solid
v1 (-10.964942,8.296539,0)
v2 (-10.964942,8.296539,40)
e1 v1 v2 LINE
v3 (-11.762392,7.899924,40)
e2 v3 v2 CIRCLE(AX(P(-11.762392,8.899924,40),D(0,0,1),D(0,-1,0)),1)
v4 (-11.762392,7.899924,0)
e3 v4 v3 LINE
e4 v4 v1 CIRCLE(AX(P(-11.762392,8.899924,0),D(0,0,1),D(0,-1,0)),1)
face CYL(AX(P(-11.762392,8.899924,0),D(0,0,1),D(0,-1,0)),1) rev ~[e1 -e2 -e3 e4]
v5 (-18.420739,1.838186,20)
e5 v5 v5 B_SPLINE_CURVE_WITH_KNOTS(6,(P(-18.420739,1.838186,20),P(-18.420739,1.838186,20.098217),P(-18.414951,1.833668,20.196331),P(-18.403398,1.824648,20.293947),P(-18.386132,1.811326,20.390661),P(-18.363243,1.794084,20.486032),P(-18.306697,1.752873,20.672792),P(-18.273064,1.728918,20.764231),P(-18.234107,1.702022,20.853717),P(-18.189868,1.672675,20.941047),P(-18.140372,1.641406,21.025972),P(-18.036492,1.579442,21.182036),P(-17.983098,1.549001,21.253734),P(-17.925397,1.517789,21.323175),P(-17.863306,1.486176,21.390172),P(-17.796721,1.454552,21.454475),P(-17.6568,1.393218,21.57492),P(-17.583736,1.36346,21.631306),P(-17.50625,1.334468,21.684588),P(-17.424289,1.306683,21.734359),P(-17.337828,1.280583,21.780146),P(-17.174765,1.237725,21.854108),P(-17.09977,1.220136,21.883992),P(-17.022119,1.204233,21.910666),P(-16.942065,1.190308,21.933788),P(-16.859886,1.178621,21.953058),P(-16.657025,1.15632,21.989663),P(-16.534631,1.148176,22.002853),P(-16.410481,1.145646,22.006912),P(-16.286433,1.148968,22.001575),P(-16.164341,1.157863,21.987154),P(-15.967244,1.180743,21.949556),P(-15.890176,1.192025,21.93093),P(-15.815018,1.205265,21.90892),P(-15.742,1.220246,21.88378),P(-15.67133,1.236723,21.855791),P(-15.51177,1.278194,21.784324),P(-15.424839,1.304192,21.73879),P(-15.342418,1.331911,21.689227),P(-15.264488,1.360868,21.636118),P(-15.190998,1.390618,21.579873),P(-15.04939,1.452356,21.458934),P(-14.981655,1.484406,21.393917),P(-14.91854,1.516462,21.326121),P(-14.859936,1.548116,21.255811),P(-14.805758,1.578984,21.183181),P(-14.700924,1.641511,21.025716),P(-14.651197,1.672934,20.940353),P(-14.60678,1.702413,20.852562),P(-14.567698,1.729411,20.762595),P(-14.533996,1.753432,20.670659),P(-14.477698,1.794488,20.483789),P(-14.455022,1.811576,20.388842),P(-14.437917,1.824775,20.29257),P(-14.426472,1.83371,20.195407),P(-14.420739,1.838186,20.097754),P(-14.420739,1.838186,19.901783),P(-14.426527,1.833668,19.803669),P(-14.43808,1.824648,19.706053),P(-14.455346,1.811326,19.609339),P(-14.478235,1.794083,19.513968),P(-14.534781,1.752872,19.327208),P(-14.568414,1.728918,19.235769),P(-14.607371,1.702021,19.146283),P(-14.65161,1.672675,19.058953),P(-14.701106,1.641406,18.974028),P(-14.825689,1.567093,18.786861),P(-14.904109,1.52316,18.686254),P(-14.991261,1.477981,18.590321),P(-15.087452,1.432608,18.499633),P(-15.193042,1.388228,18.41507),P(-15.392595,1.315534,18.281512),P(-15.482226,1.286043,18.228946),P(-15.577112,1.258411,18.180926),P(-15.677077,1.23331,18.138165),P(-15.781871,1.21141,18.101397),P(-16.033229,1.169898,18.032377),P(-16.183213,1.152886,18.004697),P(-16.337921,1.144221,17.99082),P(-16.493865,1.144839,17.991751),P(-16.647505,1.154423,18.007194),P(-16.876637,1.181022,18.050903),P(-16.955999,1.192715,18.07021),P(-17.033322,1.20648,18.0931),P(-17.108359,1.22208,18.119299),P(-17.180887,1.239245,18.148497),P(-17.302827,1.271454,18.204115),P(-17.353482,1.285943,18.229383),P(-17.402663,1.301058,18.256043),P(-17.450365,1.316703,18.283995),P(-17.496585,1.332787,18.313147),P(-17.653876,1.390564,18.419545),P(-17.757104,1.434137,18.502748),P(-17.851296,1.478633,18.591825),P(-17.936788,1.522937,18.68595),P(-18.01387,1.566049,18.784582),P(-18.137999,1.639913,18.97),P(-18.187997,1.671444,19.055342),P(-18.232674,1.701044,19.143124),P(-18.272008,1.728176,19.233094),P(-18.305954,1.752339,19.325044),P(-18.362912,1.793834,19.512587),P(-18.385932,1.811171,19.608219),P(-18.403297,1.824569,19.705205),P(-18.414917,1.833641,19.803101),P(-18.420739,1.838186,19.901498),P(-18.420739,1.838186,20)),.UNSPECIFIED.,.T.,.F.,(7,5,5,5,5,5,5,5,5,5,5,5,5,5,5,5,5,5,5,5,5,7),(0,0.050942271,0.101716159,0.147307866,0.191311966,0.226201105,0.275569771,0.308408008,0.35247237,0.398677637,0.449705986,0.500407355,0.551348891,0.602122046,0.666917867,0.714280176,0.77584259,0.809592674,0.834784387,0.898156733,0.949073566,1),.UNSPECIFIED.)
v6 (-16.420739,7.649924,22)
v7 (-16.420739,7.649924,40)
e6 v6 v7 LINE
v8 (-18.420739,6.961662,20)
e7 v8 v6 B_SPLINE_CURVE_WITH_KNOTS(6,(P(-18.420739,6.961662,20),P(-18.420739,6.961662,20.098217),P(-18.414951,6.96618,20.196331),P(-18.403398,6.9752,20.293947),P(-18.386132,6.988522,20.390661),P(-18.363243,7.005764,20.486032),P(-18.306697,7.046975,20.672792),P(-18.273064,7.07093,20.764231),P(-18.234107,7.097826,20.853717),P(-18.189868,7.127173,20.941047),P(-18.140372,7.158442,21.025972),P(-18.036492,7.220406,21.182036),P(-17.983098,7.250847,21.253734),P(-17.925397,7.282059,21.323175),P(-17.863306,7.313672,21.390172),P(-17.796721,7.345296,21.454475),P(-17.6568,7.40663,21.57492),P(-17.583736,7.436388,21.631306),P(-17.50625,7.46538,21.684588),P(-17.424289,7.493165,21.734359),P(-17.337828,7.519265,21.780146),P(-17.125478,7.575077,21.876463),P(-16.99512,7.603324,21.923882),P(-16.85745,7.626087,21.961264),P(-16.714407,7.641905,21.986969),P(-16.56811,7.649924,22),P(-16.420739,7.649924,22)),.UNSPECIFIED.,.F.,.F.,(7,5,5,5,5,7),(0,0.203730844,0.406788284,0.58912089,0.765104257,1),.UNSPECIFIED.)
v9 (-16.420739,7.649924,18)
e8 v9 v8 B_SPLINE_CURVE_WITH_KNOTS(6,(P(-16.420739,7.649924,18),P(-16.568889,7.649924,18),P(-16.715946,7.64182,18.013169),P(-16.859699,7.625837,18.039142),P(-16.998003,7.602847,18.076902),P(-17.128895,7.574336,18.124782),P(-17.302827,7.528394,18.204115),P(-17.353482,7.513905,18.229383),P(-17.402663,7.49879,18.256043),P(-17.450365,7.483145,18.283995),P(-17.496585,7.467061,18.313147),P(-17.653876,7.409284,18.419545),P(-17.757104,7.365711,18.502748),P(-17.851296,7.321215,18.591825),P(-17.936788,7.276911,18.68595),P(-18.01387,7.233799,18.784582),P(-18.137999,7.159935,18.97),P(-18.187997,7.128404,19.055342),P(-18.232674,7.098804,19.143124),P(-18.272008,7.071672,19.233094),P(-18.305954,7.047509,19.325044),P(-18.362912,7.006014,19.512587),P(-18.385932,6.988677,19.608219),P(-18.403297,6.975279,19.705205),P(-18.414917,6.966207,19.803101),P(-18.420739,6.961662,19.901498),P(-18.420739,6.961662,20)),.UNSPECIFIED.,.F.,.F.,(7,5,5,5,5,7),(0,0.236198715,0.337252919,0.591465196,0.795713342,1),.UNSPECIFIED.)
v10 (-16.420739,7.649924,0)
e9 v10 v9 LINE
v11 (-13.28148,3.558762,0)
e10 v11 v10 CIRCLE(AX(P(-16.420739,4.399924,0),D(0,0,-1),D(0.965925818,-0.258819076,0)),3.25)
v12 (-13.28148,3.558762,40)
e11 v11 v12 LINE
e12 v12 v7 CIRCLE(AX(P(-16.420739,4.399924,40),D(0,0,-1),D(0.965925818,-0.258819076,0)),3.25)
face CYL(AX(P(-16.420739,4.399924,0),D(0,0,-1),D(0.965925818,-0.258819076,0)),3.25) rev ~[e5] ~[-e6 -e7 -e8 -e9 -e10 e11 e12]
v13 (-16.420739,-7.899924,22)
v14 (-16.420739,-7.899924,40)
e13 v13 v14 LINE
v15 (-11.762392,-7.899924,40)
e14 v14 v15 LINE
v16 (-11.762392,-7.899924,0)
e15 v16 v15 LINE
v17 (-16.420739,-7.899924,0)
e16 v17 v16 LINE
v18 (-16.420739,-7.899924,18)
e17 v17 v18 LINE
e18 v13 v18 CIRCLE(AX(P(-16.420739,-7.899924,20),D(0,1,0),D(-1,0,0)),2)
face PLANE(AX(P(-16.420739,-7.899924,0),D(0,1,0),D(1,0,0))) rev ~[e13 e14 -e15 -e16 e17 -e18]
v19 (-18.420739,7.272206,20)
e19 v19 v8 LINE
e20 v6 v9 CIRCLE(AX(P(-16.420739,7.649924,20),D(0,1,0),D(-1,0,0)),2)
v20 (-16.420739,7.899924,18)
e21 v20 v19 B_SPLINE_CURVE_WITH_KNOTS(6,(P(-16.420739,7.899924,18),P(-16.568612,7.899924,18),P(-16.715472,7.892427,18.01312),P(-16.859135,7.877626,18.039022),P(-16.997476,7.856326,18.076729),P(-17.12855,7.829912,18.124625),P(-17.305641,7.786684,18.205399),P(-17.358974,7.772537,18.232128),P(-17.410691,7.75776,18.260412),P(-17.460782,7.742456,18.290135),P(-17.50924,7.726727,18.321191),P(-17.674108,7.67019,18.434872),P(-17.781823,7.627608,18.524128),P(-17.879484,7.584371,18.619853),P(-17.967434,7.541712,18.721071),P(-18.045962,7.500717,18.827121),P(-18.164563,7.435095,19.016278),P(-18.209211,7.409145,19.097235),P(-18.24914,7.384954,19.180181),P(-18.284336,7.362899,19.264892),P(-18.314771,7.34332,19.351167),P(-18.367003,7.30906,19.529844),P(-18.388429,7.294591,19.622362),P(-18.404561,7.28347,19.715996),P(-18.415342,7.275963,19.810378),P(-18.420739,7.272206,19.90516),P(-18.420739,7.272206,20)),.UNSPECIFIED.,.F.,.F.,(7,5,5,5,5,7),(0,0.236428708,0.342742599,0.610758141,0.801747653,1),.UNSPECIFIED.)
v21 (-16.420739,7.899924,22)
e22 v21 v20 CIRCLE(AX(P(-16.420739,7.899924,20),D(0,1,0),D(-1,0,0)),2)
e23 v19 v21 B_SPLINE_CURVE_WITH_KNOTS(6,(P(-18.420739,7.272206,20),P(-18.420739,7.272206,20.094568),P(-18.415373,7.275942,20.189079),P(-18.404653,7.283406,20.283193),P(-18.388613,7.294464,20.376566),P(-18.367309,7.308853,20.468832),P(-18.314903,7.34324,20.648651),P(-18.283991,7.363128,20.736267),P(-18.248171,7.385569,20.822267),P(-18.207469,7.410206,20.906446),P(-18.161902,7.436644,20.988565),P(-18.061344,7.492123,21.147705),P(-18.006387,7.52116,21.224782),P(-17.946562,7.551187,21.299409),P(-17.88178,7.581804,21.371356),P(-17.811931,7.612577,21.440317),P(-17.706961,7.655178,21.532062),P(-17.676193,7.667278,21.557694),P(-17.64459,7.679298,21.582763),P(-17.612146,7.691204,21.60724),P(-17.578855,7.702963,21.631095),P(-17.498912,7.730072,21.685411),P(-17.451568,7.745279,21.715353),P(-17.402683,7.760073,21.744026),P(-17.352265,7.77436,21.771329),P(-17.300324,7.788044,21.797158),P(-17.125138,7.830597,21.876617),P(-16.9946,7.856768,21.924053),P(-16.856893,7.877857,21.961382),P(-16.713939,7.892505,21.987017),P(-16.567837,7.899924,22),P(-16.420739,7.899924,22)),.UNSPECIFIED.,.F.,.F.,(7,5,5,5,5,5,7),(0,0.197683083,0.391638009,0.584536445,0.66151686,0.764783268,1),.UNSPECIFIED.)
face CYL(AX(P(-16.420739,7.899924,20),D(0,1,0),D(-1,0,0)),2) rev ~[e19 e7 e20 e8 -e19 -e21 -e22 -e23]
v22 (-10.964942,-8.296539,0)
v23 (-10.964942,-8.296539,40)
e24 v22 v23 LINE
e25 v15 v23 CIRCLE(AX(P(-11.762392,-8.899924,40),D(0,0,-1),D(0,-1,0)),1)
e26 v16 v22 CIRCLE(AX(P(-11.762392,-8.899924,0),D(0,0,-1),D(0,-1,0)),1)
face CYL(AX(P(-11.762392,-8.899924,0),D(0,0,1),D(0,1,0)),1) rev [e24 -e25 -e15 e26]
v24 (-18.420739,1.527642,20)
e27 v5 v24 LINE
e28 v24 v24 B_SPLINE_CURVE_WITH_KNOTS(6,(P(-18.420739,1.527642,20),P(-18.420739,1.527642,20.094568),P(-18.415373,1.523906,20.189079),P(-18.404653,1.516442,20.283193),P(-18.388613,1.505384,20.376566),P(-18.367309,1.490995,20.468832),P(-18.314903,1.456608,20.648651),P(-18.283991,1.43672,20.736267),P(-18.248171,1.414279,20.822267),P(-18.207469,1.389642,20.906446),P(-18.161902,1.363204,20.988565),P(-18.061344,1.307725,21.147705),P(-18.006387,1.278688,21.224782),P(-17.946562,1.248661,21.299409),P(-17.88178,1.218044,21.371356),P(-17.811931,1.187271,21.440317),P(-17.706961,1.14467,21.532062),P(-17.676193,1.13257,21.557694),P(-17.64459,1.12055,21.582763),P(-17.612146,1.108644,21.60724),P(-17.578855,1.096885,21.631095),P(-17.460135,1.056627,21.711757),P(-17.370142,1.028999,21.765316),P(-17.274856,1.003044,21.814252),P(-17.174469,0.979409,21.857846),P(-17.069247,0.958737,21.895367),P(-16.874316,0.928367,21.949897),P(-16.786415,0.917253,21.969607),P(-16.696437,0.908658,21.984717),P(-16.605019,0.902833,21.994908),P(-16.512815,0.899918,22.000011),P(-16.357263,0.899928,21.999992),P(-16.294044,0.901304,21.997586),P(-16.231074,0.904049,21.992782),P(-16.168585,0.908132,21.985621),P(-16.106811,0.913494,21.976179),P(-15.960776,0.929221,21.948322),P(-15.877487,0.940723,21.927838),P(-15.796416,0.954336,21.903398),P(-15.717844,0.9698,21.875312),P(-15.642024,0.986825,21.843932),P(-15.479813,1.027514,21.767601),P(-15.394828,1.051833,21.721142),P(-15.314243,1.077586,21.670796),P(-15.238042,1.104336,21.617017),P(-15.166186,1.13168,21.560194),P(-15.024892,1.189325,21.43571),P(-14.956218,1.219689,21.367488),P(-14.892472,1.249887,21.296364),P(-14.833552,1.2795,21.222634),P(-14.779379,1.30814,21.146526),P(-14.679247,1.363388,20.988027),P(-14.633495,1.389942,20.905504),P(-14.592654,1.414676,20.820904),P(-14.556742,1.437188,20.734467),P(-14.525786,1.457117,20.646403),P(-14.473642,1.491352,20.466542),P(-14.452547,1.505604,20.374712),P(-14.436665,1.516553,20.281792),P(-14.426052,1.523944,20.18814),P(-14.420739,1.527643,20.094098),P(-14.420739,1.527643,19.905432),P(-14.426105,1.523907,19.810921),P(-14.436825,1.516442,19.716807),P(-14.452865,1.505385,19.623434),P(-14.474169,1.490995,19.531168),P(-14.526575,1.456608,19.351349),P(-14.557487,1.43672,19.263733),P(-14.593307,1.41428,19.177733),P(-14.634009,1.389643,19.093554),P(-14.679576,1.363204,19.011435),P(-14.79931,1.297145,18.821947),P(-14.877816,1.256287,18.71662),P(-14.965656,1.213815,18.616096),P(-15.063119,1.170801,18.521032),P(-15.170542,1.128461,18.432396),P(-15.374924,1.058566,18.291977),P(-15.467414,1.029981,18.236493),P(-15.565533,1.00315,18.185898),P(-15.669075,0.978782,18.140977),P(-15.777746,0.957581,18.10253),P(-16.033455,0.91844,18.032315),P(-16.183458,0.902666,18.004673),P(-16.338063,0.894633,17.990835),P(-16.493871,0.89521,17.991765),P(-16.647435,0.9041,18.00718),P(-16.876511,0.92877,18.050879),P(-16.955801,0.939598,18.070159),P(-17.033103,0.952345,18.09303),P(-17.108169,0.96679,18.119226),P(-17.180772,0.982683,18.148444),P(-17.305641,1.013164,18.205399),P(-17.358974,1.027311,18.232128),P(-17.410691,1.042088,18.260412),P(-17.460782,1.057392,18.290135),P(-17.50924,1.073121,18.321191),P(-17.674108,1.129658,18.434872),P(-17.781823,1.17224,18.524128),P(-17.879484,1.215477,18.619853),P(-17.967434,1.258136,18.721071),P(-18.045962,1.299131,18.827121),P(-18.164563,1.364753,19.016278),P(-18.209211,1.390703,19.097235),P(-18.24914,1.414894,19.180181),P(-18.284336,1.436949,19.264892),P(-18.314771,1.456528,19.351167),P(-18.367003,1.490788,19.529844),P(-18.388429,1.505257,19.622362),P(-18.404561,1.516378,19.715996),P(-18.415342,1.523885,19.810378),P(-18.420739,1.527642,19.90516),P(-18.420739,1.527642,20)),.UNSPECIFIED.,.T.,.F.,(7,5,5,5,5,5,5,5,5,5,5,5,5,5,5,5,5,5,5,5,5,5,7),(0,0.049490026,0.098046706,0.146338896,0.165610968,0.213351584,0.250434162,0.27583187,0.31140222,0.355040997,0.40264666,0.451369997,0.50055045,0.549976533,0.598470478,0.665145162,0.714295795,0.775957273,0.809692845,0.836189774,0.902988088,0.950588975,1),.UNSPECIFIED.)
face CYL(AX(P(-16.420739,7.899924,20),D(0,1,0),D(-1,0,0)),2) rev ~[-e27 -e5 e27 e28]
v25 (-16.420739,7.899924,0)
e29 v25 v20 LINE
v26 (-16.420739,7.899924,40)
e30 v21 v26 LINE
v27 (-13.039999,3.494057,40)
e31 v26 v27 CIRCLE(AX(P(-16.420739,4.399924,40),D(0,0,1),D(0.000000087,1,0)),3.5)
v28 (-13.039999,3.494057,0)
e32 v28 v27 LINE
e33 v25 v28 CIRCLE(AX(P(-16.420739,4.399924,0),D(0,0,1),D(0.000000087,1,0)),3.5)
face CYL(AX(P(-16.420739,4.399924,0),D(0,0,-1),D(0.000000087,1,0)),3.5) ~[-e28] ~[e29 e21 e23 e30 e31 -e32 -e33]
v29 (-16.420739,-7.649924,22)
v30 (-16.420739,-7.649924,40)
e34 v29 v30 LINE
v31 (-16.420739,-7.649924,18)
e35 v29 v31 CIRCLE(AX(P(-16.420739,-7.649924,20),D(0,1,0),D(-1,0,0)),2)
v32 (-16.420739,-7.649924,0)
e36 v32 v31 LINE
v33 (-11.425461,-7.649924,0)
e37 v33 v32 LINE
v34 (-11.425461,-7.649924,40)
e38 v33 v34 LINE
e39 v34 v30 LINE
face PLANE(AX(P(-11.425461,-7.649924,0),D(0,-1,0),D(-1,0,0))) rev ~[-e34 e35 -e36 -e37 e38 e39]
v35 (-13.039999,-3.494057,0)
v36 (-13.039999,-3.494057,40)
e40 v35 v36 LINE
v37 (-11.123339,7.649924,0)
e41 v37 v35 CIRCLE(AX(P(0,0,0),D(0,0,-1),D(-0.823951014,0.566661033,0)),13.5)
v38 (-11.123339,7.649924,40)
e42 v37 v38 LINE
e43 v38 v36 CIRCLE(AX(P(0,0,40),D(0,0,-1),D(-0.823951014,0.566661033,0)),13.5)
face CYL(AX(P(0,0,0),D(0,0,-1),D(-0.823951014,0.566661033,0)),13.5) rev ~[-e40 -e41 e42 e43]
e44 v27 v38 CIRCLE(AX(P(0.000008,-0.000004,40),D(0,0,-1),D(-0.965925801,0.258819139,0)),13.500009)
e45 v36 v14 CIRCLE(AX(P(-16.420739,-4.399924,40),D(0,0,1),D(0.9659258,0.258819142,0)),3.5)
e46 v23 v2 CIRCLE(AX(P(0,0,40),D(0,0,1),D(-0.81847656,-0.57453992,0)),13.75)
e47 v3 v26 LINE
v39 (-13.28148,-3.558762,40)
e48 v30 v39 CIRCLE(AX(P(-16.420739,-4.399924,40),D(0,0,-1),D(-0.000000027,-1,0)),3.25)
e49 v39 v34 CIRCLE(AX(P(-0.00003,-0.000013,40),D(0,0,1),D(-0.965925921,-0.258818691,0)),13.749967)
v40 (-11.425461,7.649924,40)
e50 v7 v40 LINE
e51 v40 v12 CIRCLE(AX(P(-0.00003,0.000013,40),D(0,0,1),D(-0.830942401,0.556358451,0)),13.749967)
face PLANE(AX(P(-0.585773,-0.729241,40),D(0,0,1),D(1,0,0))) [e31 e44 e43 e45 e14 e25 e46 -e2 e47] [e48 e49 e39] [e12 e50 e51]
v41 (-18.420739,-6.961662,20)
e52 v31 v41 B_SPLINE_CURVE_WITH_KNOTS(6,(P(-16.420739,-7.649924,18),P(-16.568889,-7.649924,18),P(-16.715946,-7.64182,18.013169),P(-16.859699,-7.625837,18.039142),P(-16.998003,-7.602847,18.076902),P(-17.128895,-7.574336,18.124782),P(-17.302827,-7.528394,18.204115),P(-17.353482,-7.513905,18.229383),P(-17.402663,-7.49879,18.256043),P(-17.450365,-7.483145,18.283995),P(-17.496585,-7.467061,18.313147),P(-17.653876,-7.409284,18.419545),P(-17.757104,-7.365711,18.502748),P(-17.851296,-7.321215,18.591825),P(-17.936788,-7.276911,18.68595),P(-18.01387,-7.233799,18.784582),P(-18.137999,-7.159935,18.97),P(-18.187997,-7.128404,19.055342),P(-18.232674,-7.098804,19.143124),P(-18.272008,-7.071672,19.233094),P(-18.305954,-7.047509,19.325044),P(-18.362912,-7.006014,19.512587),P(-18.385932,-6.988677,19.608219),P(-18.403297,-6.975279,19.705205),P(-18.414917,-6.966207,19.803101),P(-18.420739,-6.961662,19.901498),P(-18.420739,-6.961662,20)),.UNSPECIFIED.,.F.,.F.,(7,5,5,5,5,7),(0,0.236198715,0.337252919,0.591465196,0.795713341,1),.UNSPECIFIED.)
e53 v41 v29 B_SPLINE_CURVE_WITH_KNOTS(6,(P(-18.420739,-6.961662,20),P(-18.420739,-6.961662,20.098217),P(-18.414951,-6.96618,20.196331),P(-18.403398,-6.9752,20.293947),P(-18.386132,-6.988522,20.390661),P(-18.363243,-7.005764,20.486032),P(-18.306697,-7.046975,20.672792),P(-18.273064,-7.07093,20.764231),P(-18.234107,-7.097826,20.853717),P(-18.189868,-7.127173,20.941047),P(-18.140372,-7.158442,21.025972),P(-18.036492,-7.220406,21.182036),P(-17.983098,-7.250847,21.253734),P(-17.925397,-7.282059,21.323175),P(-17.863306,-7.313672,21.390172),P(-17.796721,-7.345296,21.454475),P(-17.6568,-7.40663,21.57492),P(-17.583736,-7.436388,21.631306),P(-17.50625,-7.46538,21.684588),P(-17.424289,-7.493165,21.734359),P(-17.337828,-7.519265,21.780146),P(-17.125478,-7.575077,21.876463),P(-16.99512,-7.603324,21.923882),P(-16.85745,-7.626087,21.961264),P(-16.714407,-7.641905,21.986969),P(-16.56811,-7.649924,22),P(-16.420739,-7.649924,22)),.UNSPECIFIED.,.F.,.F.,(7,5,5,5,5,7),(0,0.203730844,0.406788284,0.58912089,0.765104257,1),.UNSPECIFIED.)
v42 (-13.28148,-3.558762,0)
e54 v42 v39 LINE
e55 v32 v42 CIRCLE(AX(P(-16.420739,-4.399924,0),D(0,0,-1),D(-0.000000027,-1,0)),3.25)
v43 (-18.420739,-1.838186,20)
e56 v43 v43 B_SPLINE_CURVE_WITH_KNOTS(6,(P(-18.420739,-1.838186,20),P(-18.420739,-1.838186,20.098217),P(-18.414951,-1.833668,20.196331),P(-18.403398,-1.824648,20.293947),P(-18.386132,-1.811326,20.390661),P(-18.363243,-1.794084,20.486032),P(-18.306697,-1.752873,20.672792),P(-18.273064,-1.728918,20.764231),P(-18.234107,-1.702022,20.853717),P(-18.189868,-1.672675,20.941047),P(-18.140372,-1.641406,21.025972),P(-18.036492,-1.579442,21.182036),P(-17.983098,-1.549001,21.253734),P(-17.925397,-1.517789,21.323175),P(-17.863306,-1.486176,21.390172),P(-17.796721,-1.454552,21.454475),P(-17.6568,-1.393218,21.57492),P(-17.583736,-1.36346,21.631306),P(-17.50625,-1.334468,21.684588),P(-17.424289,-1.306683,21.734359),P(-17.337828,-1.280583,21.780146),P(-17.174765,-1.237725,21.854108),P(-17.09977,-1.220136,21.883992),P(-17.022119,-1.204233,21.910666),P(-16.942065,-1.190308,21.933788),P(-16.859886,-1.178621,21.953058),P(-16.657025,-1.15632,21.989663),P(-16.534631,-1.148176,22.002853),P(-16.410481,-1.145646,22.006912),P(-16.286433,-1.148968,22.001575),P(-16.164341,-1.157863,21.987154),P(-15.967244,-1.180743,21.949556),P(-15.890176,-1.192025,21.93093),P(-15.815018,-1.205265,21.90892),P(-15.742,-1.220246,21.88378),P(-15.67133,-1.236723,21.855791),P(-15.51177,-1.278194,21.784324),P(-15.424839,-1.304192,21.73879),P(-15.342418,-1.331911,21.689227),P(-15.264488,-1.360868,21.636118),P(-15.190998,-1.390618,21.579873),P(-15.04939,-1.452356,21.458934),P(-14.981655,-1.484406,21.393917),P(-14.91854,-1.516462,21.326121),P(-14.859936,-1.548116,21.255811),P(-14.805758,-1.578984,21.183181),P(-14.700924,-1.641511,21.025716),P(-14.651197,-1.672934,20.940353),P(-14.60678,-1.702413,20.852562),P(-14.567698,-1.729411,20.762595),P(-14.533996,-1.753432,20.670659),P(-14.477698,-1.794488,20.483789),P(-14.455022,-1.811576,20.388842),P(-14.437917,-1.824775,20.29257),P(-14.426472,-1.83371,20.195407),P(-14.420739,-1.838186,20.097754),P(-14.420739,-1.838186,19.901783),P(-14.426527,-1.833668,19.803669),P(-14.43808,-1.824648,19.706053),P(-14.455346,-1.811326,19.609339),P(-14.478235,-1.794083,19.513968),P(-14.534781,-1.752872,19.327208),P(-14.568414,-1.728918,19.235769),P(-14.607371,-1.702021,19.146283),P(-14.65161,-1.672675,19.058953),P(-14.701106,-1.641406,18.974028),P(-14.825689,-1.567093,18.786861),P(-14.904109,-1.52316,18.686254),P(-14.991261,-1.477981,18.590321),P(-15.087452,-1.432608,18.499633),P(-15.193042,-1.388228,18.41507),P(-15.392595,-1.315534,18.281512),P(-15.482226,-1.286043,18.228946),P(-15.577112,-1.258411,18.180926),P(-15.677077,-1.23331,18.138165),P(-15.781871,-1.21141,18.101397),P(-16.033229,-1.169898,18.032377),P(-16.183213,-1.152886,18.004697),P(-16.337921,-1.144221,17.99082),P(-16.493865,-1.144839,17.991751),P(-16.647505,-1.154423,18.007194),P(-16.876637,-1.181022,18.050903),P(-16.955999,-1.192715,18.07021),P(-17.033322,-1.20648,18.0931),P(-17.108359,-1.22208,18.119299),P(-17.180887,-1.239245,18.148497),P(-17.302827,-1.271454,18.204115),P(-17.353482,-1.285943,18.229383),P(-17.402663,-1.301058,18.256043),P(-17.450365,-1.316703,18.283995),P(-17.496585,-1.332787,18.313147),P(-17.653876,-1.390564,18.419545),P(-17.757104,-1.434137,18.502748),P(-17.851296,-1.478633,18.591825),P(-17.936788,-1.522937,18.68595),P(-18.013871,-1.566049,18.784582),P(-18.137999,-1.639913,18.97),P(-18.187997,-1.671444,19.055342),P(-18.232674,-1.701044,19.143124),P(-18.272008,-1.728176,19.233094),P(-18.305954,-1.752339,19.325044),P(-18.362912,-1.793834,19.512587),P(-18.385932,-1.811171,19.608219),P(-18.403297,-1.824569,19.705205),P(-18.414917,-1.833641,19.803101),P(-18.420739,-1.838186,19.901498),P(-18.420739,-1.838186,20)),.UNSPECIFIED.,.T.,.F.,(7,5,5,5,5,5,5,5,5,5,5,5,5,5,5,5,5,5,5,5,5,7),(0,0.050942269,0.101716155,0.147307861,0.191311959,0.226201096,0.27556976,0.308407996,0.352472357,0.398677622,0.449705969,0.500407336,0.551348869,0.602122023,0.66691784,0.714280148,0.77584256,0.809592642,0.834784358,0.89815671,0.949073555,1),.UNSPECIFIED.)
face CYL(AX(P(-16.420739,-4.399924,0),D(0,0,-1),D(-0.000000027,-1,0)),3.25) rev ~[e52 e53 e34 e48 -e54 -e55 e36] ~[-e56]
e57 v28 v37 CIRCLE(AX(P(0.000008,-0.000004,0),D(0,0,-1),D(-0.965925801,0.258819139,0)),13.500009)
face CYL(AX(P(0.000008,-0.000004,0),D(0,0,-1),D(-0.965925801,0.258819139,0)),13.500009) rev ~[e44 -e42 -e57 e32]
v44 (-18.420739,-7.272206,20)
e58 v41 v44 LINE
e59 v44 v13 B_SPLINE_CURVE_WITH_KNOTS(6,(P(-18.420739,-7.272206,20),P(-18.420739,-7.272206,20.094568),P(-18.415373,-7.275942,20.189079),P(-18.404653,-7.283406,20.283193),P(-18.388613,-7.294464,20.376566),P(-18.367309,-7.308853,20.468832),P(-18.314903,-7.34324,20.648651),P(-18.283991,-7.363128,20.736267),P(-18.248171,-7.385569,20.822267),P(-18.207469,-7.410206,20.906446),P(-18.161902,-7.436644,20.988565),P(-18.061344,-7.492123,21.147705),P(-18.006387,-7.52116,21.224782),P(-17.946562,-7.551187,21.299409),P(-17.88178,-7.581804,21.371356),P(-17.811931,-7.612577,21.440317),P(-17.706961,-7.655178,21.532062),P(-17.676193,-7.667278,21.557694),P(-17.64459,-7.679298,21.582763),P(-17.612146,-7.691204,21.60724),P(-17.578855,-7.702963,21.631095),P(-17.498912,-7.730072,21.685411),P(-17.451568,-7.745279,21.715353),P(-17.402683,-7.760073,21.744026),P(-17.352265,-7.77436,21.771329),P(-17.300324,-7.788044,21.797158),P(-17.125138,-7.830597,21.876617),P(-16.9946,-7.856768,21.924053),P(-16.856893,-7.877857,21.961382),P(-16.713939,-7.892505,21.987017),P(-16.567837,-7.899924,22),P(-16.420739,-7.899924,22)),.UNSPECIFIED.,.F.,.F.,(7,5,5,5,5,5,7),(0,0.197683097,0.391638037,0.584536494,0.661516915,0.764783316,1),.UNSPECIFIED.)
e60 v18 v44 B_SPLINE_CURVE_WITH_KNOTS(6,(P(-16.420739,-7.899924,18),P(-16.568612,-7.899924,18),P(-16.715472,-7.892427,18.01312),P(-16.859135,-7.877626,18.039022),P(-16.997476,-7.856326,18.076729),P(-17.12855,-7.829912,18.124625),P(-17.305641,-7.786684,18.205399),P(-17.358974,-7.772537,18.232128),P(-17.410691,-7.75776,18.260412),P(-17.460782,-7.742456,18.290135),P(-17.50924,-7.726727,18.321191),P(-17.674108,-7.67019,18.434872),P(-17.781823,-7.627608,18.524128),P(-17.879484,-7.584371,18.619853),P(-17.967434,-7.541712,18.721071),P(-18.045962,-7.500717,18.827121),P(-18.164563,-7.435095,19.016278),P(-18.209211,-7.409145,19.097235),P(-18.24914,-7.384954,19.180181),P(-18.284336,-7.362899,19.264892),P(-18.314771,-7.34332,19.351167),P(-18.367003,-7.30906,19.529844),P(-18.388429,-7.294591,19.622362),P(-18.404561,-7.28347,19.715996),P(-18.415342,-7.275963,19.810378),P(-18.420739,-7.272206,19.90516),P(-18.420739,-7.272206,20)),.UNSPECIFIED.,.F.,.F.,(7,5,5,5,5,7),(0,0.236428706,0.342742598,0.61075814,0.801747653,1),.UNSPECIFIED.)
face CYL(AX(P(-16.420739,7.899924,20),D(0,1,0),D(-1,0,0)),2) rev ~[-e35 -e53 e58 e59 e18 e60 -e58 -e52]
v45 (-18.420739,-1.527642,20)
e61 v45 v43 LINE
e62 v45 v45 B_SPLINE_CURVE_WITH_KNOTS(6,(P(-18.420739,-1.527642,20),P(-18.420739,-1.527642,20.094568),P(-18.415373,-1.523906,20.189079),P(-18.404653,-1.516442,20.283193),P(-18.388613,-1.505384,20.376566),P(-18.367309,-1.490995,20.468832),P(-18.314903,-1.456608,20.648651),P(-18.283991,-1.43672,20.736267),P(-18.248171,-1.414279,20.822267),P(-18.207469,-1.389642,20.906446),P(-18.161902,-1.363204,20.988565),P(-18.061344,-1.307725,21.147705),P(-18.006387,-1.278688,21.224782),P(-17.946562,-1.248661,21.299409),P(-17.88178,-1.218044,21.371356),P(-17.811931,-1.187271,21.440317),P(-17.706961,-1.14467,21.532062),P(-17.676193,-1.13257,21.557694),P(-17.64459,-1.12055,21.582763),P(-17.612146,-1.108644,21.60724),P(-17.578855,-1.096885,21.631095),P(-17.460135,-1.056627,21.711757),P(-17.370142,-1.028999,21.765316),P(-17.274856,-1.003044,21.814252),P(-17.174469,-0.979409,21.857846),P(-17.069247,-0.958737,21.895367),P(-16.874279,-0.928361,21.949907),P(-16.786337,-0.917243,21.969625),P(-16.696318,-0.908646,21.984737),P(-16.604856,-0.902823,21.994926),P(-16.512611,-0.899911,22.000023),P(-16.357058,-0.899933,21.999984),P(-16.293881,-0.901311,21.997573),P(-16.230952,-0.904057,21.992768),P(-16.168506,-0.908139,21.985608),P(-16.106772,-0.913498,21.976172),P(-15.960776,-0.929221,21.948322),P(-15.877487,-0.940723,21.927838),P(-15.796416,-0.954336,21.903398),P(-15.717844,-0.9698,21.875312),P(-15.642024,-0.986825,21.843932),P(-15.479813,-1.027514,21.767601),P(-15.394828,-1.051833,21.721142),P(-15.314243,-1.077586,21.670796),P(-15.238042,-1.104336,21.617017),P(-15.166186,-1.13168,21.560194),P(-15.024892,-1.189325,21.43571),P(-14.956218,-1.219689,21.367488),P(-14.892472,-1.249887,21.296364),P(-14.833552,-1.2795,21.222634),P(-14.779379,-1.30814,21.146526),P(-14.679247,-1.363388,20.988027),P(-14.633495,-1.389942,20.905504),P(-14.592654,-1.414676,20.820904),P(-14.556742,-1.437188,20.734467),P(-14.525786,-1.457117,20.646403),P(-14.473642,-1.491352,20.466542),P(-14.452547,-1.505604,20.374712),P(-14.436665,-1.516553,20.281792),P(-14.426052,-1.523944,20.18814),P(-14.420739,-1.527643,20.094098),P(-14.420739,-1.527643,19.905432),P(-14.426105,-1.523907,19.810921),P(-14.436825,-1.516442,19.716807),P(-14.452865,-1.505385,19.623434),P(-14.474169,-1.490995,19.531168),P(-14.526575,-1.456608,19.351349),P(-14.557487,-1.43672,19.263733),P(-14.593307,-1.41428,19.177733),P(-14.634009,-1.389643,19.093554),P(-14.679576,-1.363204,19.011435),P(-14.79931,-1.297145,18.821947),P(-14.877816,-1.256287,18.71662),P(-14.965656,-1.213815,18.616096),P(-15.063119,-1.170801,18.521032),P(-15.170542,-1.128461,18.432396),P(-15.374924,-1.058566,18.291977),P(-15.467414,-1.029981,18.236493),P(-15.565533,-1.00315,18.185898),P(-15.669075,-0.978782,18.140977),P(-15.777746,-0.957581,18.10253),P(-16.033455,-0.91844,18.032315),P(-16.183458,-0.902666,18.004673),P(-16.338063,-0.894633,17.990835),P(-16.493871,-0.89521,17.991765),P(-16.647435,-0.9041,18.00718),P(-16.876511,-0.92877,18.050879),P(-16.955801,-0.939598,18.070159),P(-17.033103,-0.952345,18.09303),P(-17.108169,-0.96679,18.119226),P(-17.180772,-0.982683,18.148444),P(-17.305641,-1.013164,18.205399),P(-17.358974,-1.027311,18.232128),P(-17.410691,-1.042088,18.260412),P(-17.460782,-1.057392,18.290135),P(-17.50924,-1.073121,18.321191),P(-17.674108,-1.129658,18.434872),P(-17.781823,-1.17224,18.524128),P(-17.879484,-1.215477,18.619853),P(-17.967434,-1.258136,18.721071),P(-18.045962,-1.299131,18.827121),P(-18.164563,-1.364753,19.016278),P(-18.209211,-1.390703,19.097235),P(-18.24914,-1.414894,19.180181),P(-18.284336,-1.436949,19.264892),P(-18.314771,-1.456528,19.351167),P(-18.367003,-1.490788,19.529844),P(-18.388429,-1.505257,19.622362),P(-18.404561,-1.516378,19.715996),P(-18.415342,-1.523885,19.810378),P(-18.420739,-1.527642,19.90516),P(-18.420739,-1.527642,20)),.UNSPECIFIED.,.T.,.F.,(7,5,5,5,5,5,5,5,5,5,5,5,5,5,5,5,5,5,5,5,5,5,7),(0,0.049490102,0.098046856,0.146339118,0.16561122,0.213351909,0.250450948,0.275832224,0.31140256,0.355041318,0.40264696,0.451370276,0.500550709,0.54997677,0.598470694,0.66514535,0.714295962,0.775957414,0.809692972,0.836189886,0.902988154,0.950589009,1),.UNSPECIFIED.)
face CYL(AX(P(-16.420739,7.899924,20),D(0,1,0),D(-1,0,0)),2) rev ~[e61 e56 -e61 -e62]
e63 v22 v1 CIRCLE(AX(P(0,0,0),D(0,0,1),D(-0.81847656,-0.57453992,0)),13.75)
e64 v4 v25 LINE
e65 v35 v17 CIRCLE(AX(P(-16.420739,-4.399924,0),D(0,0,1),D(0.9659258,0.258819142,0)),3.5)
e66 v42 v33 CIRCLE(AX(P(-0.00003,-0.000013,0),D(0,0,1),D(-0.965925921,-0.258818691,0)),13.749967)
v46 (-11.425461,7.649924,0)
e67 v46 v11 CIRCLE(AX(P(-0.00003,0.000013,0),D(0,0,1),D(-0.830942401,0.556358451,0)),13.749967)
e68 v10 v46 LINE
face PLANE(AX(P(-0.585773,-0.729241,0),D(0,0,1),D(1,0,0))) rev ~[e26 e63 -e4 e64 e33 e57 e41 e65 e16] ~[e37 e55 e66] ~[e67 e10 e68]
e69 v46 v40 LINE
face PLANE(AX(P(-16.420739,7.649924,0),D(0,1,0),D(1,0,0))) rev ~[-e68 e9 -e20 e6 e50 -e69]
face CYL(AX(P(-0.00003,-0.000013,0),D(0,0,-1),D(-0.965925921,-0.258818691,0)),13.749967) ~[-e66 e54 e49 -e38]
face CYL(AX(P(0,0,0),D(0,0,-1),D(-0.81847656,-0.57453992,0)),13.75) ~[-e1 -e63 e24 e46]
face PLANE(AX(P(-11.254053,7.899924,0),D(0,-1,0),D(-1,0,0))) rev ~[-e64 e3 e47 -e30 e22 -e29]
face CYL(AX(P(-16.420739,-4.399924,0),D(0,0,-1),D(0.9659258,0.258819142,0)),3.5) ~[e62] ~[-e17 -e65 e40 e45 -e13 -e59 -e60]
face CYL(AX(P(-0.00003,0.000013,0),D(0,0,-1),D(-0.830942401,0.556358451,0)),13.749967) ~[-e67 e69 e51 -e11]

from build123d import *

# Parameters (mm, degrees)
F1_DEPTH = 40
F2_R     = 1
F3_R     = 2
F4_DEPTH = 25


with BuildPart() as f1:
    # F0 (on Top) → F1 (new body)
    with BuildSketch(Plane.XY):
        with BuildLine():
            ThreePointArc((-11.123339, 7.649924), (13.304653, -2.288275), (-13.039999, -3.494057))
            ThreePointArc((-13.039999, -3.494057), (-19.197476, -2.269259), (-16.420739, -7.899924))
            Line((-16.420739, -7.899924), (-11.254053, -7.899924))
            ThreePointArc((-11.254053, -7.899924), (13.75, 0), (-11.254053, 7.899924))
            ThreePointArc((-11.254053, 7.899924), (-11.340446, 7.775396), (-11.425461, 7.649924))
            Line((-11.425461, 7.649924), (-11.123339, 7.649924))
        make_face()
        with BuildLine():
            ThreePointArc((-16.420739, -7.649924), (-18.999137, -2.421449), (-13.28148, -3.558762))
            ThreePointArc((-13.28148, -3.558762), (-12.521687, -5.680657), (-11.425461, -7.649924))
            Line((-11.425461, -7.649924), (-15.121701, -7.649924))
            Line((-15.121701, -7.649924), (-16.420739, -7.649924))
        make_face(mode=Mode.SUBTRACT)
        with BuildLine():
            ThreePointArc((-13.039999, 3.494057), (-12.259059, 5.653802), (-11.123339, 7.649924))
            Line((-11.123339, 7.649924), (-11.425461, 7.649924))
            ThreePointArc((-11.425461, 7.649924), (-11.340446, 7.775396), (-11.254053, 7.899924))
            Line((-11.254053, 7.899924), (-16.420739, 7.899924))
            ThreePointArc((-16.420739, 7.899924), (-19.197476, 2.269259), (-13.039999, 3.494057))
        make_face()
        with BuildLine():
            Line((-15.121701, 7.649924), (-11.425461, 7.649924))
            ThreePointArc((-11.425461, 7.649924), (-12.521687, 5.680657), (-13.28148, 3.558762))
            ThreePointArc((-13.28148, 3.558762), (-18.999137, 2.421449), (-16.420739, 7.649924))
            Line((-16.420739, 7.649924), (-15.121701, 7.649924))
        make_face(mode=Mode.SUBTRACT)
    extrude(amount=F1_DEPTH)

    # F2
    f2_edges = [f1.edges().sort_by_distance(p)[0] for p in [
        (-11.254053, 7.899924, 20),
        (-11.254053, -7.899924, 20),
    ]]
    fillet(f2_edges, radius=F2_R)

    # F3 (on face) → F4 (cut)
    with BuildSketch(Plane(origin=(0, 7.899924, 0), x_dir=(-1, 0, 0), z_dir=(0, 1, 0))):
        with Locations((16.420739, 20)):
            Circle(F3_R)
    extrude(amount=-F4_DEPTH, mode=Mode.SUBTRACT)


solid = f1.part
